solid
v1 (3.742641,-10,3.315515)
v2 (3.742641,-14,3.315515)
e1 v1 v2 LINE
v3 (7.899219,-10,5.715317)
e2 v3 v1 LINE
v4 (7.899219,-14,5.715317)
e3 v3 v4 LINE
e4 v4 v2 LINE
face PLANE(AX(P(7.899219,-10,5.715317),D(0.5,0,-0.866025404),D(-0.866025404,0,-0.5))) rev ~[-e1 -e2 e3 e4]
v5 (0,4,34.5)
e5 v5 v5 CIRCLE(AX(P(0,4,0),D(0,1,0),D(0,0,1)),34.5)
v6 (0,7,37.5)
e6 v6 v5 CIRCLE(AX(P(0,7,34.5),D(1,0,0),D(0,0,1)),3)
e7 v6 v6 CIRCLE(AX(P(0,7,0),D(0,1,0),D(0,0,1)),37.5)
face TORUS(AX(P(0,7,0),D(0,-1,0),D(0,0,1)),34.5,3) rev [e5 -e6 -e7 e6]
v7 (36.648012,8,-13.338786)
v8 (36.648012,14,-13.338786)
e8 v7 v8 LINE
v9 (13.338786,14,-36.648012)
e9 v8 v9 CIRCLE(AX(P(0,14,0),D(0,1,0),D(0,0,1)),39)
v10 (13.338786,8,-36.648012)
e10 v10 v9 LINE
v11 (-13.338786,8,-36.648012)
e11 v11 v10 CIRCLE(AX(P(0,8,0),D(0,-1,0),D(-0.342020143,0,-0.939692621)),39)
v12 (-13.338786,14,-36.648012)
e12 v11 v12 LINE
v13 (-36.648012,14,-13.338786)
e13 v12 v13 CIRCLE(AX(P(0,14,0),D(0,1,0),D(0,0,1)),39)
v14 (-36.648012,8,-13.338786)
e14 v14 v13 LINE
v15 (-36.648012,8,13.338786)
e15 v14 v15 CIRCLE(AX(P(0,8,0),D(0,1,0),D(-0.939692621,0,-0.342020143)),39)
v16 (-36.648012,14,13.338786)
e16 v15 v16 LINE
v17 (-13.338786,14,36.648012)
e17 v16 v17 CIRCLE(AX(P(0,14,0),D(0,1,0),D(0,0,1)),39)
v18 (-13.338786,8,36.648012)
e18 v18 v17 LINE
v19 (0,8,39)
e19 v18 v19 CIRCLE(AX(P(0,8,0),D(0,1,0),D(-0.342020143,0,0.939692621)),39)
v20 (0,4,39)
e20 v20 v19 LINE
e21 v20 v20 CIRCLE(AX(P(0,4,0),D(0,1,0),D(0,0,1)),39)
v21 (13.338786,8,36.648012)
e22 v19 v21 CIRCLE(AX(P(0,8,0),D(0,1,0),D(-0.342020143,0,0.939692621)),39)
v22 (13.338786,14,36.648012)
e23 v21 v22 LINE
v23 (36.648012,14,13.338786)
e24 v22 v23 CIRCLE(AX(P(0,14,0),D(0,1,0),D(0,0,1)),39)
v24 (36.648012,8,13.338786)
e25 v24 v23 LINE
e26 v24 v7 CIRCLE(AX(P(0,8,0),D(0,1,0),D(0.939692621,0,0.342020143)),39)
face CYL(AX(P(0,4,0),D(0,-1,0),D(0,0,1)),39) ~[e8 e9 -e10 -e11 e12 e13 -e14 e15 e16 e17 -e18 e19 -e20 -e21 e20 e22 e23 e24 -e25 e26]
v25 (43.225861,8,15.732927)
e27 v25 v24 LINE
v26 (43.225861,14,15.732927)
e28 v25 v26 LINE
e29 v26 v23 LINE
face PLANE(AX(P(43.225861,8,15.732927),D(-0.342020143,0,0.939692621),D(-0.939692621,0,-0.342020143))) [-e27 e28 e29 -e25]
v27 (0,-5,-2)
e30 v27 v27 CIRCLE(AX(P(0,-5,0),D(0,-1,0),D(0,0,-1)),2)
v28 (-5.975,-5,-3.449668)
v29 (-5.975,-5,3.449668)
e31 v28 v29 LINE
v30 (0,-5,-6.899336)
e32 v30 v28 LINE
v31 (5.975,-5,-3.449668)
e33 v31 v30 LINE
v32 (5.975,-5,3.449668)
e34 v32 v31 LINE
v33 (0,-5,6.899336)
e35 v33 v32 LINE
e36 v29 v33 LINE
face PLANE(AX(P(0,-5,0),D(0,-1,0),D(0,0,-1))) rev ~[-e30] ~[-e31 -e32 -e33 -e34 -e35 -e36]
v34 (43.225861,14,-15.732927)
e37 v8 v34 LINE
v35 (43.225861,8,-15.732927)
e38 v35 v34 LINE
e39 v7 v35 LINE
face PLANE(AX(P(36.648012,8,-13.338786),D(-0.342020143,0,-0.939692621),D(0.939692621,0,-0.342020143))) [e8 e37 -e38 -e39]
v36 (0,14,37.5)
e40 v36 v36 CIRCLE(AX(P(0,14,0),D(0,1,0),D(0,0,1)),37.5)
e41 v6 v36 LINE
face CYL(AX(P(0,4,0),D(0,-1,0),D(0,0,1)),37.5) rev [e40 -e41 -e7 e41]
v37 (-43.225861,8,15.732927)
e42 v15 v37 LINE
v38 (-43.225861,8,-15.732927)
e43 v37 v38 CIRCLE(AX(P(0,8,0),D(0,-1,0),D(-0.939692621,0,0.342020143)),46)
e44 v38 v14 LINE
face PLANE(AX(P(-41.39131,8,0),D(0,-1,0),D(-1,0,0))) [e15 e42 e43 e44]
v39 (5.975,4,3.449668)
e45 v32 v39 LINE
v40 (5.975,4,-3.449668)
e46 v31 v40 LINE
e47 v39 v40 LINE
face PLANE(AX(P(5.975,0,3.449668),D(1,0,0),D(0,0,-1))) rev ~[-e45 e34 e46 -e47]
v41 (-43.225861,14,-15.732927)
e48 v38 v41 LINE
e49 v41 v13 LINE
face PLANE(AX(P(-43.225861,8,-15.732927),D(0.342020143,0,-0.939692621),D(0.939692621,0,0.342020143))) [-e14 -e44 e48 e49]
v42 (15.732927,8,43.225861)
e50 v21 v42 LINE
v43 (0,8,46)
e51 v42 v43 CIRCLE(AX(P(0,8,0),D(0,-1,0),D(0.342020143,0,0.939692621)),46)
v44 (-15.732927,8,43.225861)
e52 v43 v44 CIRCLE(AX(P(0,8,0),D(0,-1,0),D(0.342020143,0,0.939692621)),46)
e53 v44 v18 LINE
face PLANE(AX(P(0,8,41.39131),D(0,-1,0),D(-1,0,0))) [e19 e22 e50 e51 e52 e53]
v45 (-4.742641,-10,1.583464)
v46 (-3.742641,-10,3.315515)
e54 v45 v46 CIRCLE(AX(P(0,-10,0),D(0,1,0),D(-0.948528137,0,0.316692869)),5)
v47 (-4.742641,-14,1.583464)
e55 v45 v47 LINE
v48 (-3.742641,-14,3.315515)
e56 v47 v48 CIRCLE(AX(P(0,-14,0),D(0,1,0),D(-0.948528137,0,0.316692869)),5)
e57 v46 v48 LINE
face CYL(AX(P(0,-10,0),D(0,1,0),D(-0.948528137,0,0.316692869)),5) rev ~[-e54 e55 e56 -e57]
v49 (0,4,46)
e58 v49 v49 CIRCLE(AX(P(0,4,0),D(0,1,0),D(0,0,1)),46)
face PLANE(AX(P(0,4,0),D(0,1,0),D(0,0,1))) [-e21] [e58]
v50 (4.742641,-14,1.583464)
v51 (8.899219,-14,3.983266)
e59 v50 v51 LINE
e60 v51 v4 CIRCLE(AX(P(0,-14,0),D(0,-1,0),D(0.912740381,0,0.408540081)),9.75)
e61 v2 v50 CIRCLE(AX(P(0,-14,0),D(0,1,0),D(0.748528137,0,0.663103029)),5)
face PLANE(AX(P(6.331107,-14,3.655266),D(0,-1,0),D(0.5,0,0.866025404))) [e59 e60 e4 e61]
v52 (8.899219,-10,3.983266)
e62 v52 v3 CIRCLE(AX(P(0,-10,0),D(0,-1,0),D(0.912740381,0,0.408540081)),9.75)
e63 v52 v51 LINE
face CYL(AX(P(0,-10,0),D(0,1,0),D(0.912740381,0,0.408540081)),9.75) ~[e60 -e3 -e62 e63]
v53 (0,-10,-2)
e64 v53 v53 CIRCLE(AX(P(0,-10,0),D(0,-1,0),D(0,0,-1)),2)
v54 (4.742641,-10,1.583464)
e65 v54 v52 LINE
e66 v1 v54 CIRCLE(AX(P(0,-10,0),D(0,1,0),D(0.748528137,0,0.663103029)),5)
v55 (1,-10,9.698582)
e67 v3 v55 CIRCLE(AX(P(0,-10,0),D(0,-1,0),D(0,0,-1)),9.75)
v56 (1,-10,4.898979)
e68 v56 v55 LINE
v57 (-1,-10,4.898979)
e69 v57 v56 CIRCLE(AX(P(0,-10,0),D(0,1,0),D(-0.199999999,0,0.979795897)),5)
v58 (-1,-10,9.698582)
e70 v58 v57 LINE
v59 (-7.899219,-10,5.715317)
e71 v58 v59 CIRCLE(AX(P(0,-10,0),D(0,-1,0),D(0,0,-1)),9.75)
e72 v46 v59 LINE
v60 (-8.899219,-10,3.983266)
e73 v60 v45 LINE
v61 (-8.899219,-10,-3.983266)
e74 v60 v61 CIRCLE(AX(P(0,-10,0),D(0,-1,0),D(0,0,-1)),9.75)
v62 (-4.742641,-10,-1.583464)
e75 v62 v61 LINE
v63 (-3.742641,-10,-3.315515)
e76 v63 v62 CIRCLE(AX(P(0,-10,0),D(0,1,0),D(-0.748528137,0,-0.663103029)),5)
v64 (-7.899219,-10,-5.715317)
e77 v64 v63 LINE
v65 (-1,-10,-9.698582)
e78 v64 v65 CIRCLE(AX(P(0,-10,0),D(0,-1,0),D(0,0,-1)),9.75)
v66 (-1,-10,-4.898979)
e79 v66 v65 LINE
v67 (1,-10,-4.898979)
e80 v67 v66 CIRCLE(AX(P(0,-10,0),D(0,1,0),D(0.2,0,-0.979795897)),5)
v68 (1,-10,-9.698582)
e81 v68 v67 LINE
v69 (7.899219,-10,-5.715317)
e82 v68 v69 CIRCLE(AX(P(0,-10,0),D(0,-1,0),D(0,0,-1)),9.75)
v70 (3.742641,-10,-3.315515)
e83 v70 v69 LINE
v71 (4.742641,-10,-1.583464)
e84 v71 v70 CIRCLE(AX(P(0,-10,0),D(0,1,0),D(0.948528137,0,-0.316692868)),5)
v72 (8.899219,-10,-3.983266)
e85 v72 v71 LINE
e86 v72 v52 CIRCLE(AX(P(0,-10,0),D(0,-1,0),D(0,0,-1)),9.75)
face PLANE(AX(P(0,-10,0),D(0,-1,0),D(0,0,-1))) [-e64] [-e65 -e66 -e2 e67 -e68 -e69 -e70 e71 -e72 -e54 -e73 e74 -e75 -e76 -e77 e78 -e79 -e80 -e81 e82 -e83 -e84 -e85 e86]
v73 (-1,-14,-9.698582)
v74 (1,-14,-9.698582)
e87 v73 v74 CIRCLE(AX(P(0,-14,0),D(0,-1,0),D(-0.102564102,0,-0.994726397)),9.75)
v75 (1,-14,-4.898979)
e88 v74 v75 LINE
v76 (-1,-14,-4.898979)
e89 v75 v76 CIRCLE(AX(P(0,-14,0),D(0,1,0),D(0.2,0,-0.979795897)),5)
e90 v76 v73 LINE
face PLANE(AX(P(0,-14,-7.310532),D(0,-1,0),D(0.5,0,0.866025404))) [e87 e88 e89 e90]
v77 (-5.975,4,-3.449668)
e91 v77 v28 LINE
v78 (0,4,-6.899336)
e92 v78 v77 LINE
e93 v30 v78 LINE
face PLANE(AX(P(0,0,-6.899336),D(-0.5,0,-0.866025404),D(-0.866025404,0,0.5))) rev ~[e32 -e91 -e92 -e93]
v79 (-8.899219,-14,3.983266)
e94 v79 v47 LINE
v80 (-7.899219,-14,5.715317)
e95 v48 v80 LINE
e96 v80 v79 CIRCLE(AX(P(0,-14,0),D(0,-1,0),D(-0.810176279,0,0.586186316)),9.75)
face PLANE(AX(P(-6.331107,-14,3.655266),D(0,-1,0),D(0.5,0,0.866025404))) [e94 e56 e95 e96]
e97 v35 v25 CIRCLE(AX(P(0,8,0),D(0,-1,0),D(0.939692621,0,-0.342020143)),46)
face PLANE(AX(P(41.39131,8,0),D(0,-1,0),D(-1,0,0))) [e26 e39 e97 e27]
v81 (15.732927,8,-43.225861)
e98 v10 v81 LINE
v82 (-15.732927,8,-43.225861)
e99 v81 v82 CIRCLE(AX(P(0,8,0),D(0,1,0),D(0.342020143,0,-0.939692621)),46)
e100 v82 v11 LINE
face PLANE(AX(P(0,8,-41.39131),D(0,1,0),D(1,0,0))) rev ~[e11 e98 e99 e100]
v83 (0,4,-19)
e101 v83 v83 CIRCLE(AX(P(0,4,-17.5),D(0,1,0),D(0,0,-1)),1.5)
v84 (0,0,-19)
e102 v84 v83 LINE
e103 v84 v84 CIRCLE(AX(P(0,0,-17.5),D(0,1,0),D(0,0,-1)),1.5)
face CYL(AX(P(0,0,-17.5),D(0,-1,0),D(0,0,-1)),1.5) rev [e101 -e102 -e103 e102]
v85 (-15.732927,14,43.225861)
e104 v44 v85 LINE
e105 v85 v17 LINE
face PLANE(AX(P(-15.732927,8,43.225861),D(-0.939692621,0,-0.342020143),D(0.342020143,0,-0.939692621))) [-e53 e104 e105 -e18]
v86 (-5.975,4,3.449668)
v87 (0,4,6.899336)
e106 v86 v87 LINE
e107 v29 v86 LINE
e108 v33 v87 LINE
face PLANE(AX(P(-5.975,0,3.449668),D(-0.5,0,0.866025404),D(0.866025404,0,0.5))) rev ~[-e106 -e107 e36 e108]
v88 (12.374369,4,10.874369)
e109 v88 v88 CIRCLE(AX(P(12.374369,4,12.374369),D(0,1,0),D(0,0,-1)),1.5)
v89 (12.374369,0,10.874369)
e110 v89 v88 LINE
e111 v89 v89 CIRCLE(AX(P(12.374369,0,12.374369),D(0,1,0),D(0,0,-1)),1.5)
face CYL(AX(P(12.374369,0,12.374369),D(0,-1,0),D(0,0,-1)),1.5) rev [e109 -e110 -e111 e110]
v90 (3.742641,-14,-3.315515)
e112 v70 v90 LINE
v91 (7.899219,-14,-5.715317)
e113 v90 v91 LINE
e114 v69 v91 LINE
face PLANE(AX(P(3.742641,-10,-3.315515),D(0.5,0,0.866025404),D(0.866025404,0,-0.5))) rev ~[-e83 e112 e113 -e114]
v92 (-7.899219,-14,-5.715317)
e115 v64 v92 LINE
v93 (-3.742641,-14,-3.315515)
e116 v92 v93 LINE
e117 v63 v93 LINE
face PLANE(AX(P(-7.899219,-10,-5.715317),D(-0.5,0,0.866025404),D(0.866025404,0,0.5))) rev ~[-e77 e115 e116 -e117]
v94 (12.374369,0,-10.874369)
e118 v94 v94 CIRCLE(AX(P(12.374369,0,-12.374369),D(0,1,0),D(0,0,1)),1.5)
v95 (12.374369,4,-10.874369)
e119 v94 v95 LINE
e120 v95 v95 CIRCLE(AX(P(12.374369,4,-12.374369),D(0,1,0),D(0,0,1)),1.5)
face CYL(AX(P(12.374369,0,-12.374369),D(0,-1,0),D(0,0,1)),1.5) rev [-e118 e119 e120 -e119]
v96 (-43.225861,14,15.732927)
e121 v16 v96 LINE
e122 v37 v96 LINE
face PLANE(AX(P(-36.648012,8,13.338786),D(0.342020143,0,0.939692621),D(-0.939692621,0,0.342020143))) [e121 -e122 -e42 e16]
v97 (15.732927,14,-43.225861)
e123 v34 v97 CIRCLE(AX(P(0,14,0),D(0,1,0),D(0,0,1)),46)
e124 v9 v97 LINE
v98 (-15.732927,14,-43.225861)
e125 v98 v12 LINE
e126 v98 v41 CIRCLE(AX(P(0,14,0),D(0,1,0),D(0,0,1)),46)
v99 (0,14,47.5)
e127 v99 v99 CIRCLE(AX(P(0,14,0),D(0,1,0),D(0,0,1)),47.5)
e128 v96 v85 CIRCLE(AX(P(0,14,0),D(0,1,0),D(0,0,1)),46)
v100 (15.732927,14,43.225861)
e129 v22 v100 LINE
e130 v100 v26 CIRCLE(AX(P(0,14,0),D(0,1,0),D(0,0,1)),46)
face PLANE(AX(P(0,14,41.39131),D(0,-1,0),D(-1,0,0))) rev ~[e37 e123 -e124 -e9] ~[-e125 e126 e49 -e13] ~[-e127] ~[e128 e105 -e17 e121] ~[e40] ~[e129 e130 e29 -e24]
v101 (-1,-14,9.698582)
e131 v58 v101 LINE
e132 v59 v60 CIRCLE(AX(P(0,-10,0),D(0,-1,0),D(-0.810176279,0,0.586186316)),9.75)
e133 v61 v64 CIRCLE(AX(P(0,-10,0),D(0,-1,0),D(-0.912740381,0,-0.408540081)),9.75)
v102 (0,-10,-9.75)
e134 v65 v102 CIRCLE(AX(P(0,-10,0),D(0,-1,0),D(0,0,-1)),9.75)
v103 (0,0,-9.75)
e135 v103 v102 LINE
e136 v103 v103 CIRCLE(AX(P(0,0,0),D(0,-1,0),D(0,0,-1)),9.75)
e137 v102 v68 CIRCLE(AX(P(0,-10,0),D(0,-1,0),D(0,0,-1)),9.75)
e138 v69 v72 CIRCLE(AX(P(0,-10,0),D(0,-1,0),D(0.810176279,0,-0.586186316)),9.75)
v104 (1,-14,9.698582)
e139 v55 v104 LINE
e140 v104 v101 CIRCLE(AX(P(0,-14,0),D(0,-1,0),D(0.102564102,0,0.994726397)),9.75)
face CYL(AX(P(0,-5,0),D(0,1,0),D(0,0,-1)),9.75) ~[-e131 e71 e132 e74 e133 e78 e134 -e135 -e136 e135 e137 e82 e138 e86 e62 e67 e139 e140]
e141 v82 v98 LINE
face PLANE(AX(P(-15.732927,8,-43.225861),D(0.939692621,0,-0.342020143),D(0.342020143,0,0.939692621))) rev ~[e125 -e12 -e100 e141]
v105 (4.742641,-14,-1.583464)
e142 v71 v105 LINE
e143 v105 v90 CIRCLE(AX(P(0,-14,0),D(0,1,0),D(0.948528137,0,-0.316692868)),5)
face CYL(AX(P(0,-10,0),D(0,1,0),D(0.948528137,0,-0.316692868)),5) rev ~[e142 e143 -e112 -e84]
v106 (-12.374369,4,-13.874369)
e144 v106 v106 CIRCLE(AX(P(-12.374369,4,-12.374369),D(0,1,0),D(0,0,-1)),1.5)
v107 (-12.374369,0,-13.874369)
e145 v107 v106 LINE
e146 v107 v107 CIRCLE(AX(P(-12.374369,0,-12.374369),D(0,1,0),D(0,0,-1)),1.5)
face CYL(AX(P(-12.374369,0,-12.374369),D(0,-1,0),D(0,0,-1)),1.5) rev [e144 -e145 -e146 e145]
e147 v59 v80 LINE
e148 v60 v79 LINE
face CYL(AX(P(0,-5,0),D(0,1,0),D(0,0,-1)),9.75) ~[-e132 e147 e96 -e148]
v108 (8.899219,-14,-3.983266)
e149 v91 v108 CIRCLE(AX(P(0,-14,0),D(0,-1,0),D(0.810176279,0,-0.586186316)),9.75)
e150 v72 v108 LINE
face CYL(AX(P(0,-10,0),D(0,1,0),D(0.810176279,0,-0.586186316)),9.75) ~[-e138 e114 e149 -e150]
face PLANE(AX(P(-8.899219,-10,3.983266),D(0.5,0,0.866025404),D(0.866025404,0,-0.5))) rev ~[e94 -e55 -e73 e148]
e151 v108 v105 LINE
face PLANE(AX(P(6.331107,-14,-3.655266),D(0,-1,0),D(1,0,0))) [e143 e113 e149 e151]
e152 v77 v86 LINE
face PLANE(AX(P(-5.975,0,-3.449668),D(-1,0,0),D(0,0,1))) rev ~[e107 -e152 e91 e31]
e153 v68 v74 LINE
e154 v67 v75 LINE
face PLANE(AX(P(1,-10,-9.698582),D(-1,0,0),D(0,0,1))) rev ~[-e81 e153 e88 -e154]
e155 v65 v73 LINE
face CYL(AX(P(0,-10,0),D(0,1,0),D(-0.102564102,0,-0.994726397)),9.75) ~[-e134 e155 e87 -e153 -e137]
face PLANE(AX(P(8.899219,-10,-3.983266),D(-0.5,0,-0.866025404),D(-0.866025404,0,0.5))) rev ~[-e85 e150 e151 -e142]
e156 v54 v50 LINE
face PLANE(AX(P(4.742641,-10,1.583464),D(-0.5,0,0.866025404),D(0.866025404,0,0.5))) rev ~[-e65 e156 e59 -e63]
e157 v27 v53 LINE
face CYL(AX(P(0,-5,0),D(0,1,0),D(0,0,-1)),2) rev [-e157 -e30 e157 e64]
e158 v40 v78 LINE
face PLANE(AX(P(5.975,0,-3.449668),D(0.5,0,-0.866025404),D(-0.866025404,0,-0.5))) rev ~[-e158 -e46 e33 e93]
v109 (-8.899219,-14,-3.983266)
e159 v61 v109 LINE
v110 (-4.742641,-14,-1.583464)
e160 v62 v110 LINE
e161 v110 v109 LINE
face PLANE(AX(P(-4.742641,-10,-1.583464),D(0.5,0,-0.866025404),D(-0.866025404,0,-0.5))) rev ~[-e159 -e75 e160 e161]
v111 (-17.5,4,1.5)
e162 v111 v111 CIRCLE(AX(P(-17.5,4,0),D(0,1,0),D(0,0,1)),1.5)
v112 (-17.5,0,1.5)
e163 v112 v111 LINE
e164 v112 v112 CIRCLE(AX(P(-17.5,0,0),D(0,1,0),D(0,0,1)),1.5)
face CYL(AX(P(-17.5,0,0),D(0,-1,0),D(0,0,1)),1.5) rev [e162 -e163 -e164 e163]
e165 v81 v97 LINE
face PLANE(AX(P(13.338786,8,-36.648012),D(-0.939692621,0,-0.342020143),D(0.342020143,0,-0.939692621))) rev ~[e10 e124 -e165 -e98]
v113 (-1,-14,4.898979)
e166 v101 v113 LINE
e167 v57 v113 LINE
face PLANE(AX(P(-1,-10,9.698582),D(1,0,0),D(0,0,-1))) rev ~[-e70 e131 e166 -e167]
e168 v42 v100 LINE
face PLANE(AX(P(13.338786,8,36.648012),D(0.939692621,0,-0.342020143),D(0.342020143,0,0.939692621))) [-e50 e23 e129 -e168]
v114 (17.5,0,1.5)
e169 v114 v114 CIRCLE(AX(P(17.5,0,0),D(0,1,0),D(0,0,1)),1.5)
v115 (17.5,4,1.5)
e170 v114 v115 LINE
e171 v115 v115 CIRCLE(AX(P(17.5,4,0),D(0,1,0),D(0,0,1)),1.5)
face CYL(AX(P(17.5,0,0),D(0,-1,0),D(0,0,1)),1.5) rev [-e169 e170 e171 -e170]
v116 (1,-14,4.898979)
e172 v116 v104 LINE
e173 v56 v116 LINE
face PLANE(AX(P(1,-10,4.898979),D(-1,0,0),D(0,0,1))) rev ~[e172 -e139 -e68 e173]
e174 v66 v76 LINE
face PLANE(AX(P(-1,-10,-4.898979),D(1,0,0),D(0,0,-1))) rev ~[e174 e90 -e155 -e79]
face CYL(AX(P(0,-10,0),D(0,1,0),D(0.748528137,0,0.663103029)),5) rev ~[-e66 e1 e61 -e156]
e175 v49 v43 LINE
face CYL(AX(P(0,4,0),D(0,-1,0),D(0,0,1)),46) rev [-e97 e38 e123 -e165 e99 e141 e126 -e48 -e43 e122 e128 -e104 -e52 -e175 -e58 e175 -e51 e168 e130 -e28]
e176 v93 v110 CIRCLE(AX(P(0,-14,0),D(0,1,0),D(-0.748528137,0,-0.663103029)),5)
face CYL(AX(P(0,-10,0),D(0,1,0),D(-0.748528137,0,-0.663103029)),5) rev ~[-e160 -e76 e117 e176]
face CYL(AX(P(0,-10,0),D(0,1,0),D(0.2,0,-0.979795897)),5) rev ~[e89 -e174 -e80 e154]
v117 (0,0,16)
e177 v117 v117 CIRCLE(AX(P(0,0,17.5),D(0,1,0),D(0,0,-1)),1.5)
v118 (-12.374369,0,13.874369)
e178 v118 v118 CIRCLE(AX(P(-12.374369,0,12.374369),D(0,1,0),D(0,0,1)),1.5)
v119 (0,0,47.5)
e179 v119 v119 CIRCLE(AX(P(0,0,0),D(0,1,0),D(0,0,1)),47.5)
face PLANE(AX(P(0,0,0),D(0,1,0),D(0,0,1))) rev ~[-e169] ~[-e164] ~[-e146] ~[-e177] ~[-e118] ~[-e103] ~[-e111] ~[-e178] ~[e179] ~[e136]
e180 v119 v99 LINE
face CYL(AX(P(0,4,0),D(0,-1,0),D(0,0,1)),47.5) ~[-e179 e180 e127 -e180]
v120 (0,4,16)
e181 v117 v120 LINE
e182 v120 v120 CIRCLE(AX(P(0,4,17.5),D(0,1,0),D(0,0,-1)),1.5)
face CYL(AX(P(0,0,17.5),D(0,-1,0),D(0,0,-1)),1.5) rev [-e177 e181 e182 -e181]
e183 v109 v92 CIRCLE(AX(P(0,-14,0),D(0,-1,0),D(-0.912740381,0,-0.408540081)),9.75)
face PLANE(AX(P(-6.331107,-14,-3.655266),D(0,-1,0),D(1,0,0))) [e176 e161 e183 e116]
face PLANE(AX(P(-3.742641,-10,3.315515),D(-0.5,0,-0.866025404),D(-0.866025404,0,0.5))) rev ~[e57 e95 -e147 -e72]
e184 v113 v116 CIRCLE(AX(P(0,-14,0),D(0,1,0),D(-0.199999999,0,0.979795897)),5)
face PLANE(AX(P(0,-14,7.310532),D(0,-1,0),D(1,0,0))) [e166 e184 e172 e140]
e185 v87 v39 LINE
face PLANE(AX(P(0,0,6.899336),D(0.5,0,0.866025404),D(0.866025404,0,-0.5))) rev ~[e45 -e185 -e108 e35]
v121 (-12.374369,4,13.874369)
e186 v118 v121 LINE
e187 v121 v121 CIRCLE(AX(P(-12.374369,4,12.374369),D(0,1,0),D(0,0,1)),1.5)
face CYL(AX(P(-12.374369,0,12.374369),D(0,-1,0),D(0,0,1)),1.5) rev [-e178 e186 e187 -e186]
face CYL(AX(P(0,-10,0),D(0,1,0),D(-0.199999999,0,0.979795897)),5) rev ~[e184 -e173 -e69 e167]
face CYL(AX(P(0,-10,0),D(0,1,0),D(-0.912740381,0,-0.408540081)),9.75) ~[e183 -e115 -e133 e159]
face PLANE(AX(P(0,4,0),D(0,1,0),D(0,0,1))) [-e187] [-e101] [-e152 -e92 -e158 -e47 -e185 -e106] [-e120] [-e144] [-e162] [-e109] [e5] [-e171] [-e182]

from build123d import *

# Parameters (mm, degrees)
SKETCH_1_R               = 21.5
SKETCH_1_R_2             = 1.5
EXTRUDE_1_DEPTH          = 4
SKETCH_9_R               = 9.75
EXTRUDE_4_DEPTH          = 5
SKETCH_10_R              = 9.75
SKETCH_10_R_2            = 2
EXTRUDE_5_DEPTH          = 5
EXTRUDE_6_DEPTH          = 4
PATTERN_CIRCULAR_1_COUNT = 2
PATTERN_CIRCULAR_1_ANGLE = 60
EXTRUDE_START            = -4
SKETCH_12_R              = 47.5
SKETCH_12_R_2            = 21.5
EXTRUDE_7_DEPTH          = 4
SKETCH_13_R              = 47.5
SKETCH_13_R_2            = 46
SKETCH_13_R_3            = 39
SKETCH_13_R_4            = 37.5
EXTRUDE_8_DEPTH          = 10
EXTRUDE_START_2          = -6
EXTRUDE_9_DEPTH          = 6
FILLET_1_R               = 3


with BuildPart() as part:
    # 草图1 → 凸台-拉伸1 (new body)
    with BuildSketch(Plane(origin=(0, 0, 0), x_dir=(1, 0, 0), z_dir=(0, 1, 0))):
        with Locations(Location((0, 0, 0), (0, 0, 270))):
            Circle(SKETCH_1_R)
        with Locations(Location((12.374368671, 12.374368671, 0), (0, 0, 270))):
            Circle(SKETCH_1_R_2, mode=Mode.SUBTRACT)
        with Locations(Location((12.374368671, -12.374368671, 0), (0, 0, 90))):
            Circle(SKETCH_1_R_2, mode=Mode.SUBTRACT)
        with Locations(Location((-12.374368671, -12.374368671, 0), (0, 0, 270))):
            Circle(SKETCH_1_R_2, mode=Mode.SUBTRACT)
        with Locations(Location((-12.374368671, 12.374368671, 0), (0, 0, 90))):
            Circle(SKETCH_1_R_2, mode=Mode.SUBTRACT)
        with Locations(Location((0, 17.5, 0), (0, 0, 90))):
            Circle(SKETCH_1_R_2, mode=Mode.SUBTRACT)
        with Locations(Location((17.5, 0, 0), (0, 0, 270))):
            Circle(SKETCH_1_R_2, mode=Mode.SUBTRACT)
        with Locations(Location((0, -17.5, 0), (0, 0, 90))):
            Circle(SKETCH_1_R_2, mode=Mode.SUBTRACT)
        with Locations(Location((-17.5, 0, 0), (0, 0, 270))):
            Circle(SKETCH_1_R_2, mode=Mode.SUBTRACT)
        Polygon((0, 6.899335717), (-5.975, 3.449667858), (-5.975, -3.449667858), (0, -6.899335717), (5.975, -3.449667858), (5.975, 3.449667858), align=None, mode=Mode.SUBTRACT)
    extrude(amount=EXTRUDE_1_DEPTH)

    # 草图9 → 凸台-拉伸4 (add)
    with BuildSketch(Plane.XZ):
        with Locations(Location((0, 0, 0), (0, 0, 270))):
            Circle(SKETCH_9_R)
        Polygon((-5.975, -3.449667858), (-5.975, 3.449667858), (0, 6.899335717), (5.975, 3.449667858), (5.975, -3.449667858), (0, -6.899335717), align=None, mode=Mode.SUBTRACT)
    extrude(amount=EXTRUDE_4_DEPTH)

    # 草图10 → 凸台-拉伸5 (add)
    with BuildSketch(Plane.XZ.offset(5)):
        with Locations(Location((0, 0, 0), (0, 0, 270))):
            Circle(SKETCH_10_R)
        with Locations(Location((0, 0, 0), (0, 0, 270))):
            Circle(SKETCH_10_R_2, mode=Mode.SUBTRACT)
    extrude(amount=EXTRUDE_5_DEPTH)

    # 草图11 → 凸台-拉伸6 (add)
    with BuildSketch(Plane.XZ.offset(10)):
        with BuildLine():
            Line((-7.899218714, -5.715316589), (-3.742640687, -3.315515147))
            ThreePointArc((-3.742640687, -3.315515147), (-4.330127019, -2.5), (-4.742640687, -1.583464339))
            Line((-4.742640687, -1.583464339), (-8.899218714, -3.983265782))
            ThreePointArc((-8.899218714, -3.983265782), (-8.443747687, -4.875), (-7.899218714, -5.715316589))
        make_face()
        with BuildLine():
            ThreePointArc((-1, 4.898979486), (0, 5), (1, 4.898979486))
            Line((1, 4.898979486), (1, 9.698582371))
            ThreePointArc((1, 9.698582371), (0, 9.75), (-1, 9.698582371))
            Line((-1, 9.698582371), (-1, 4.898979486))
        make_face()
        with BuildLine():
            Line((8.899218714, -3.983265782), (4.742640687, -1.583464339))
            ThreePointArc((4.742640687, -1.583464339), (4.330127019, -2.5), (3.742640687, -3.315515147))
            Line((3.742640687, -3.315515147), (7.899218714, -5.715316589))
            ThreePointArc((7.899218714, -5.715316589), (8.443747687, -4.875), (8.899218714, -3.983265782))
        make_face()
    extrude_6 = extrude(amount=EXTRUDE_6_DEPTH)

    # 阵列(圆周)1: 凸台-拉伸6 ×2 about axis
    pattern_circular_1_axis = Axis((0, 0, 0), (0, -1, 0))
    for i in range(1, PATTERN_CIRCULAR_1_COUNT):
        add(extrude_6.rotate(pattern_circular_1_axis, i * PATTERN_CIRCULAR_1_ANGLE / (PATTERN_CIRCULAR_1_COUNT - 1)))

    # 草图12 → 凸台-拉伸7 (add)
    with BuildSketch(Plane(origin=(0, 4, 0), x_dir=(1, 0, 0), z_dir=(0, 1, 0)).offset(EXTRUDE_START)):
        with Locations(Location((0, 0, 0), (0, 0, 270))):
            Circle(SKETCH_12_R)
        Circle(SKETCH_12_R_2, mode=Mode.SUBTRACT)
    extrude(amount=EXTRUDE_7_DEPTH)

    # 草图13 → 凸台-拉伸8 (add)
    # profile 1 of 2: a face of its own
    with BuildSketch(Plane(origin=(0, 4, 0), x_dir=(1, 0, 0), z_dir=(0, 1, 0))):
        with Locations(Location((0, 0, 0), (0, 0, 270))):
            Circle(SKETCH_13_R)
        with Locations(Location((0, 0, 0), (0, 0, 270))):
            Circle(SKETCH_13_R_2, mode=Mode.SUBTRACT)
    # profile 2 of 2: a face of its own
    with BuildSketch(Plane(origin=(0, 4, 0), x_dir=(1, 0, 0), z_dir=(0, 1, 0))):
        with Locations(Location((0, 0, 0), (0, 0, 270))):
            Circle(SKETCH_13_R_3)
        with Locations(Location((0, 0, 0), (0, 0, 270))):
            Circle(SKETCH_13_R_4, mode=Mode.SUBTRACT)
    extrude(amount=EXTRUDE_8_DEPTH)

    # 草图14 → 凸台-拉伸9 (add)
    with BuildSketch(Plane(origin=(0, 14, 0), x_dir=(1, 0, 0), z_dir=(0, 1, 0)).offset(EXTRUDE_START_2)):
        with BuildLine():
            Line((-15.732926593, 43.225860556), (-13.33878559, 36.648012211))
            ThreePointArc((-13.33878559, 36.648012211), (0, 39), (13.33878559, 36.648012211))
            Line((13.33878559, 36.648012211), (15.732926593, 43.225860556))
            ThreePointArc((15.732926593, 43.225860556), (0, 46), (-15.732926593, 43.225860556))
        make_face()
        with BuildLine():
            Line((43.225860556, -15.732926593), (36.648012211, -13.33878559))
            ThreePointArc((36.648012211, -13.33878559), (39, 0), (36.648012211, 13.33878559))
            Line((36.648012211, 13.33878559), (43.225860556, 15.732926593))
            ThreePointArc((43.225860556, 15.732926593), (46, 0), (43.225860556, -15.732926593))
        make_face()
        with BuildLine():
            Line((-15.732926593, -43.225860556), (-13.33878559, -36.648012211))
            ThreePointArc((-13.33878559, -36.648012211), (0, -39), (13.33878559, -36.648012211))
            Line((13.33878559, -36.648012211), (15.732926593, -43.225860556))
            ThreePointArc((15.732926593, -43.225860556), (0, -46), (-15.732926593, -43.225860556))
        make_face()
        with BuildLine():
            Line((-43.225860556, 15.732926593), (-36.648012211, 13.33878559))
            ThreePointArc((-36.648012211, 13.33878559), (-39, 0), (-36.648012211, -13.33878559))
            Line((-36.648012211, -13.33878559), (-43.225860556, -15.732926593))
            ThreePointArc((-43.225860556, -15.732926593), (-46, 0), (-43.225860556, 15.732926593))
        make_face()
    extrude(amount=EXTRUDE_9_DEPTH)

    # 圆角1
    fillet_1_edges = [part.edges().sort_by_distance(p)[0] for p in [
        (0, 4, -37.5),
    ]]
    fillet(fillet_1_edges, radius=FILLET_1_R)


solid = part.part
